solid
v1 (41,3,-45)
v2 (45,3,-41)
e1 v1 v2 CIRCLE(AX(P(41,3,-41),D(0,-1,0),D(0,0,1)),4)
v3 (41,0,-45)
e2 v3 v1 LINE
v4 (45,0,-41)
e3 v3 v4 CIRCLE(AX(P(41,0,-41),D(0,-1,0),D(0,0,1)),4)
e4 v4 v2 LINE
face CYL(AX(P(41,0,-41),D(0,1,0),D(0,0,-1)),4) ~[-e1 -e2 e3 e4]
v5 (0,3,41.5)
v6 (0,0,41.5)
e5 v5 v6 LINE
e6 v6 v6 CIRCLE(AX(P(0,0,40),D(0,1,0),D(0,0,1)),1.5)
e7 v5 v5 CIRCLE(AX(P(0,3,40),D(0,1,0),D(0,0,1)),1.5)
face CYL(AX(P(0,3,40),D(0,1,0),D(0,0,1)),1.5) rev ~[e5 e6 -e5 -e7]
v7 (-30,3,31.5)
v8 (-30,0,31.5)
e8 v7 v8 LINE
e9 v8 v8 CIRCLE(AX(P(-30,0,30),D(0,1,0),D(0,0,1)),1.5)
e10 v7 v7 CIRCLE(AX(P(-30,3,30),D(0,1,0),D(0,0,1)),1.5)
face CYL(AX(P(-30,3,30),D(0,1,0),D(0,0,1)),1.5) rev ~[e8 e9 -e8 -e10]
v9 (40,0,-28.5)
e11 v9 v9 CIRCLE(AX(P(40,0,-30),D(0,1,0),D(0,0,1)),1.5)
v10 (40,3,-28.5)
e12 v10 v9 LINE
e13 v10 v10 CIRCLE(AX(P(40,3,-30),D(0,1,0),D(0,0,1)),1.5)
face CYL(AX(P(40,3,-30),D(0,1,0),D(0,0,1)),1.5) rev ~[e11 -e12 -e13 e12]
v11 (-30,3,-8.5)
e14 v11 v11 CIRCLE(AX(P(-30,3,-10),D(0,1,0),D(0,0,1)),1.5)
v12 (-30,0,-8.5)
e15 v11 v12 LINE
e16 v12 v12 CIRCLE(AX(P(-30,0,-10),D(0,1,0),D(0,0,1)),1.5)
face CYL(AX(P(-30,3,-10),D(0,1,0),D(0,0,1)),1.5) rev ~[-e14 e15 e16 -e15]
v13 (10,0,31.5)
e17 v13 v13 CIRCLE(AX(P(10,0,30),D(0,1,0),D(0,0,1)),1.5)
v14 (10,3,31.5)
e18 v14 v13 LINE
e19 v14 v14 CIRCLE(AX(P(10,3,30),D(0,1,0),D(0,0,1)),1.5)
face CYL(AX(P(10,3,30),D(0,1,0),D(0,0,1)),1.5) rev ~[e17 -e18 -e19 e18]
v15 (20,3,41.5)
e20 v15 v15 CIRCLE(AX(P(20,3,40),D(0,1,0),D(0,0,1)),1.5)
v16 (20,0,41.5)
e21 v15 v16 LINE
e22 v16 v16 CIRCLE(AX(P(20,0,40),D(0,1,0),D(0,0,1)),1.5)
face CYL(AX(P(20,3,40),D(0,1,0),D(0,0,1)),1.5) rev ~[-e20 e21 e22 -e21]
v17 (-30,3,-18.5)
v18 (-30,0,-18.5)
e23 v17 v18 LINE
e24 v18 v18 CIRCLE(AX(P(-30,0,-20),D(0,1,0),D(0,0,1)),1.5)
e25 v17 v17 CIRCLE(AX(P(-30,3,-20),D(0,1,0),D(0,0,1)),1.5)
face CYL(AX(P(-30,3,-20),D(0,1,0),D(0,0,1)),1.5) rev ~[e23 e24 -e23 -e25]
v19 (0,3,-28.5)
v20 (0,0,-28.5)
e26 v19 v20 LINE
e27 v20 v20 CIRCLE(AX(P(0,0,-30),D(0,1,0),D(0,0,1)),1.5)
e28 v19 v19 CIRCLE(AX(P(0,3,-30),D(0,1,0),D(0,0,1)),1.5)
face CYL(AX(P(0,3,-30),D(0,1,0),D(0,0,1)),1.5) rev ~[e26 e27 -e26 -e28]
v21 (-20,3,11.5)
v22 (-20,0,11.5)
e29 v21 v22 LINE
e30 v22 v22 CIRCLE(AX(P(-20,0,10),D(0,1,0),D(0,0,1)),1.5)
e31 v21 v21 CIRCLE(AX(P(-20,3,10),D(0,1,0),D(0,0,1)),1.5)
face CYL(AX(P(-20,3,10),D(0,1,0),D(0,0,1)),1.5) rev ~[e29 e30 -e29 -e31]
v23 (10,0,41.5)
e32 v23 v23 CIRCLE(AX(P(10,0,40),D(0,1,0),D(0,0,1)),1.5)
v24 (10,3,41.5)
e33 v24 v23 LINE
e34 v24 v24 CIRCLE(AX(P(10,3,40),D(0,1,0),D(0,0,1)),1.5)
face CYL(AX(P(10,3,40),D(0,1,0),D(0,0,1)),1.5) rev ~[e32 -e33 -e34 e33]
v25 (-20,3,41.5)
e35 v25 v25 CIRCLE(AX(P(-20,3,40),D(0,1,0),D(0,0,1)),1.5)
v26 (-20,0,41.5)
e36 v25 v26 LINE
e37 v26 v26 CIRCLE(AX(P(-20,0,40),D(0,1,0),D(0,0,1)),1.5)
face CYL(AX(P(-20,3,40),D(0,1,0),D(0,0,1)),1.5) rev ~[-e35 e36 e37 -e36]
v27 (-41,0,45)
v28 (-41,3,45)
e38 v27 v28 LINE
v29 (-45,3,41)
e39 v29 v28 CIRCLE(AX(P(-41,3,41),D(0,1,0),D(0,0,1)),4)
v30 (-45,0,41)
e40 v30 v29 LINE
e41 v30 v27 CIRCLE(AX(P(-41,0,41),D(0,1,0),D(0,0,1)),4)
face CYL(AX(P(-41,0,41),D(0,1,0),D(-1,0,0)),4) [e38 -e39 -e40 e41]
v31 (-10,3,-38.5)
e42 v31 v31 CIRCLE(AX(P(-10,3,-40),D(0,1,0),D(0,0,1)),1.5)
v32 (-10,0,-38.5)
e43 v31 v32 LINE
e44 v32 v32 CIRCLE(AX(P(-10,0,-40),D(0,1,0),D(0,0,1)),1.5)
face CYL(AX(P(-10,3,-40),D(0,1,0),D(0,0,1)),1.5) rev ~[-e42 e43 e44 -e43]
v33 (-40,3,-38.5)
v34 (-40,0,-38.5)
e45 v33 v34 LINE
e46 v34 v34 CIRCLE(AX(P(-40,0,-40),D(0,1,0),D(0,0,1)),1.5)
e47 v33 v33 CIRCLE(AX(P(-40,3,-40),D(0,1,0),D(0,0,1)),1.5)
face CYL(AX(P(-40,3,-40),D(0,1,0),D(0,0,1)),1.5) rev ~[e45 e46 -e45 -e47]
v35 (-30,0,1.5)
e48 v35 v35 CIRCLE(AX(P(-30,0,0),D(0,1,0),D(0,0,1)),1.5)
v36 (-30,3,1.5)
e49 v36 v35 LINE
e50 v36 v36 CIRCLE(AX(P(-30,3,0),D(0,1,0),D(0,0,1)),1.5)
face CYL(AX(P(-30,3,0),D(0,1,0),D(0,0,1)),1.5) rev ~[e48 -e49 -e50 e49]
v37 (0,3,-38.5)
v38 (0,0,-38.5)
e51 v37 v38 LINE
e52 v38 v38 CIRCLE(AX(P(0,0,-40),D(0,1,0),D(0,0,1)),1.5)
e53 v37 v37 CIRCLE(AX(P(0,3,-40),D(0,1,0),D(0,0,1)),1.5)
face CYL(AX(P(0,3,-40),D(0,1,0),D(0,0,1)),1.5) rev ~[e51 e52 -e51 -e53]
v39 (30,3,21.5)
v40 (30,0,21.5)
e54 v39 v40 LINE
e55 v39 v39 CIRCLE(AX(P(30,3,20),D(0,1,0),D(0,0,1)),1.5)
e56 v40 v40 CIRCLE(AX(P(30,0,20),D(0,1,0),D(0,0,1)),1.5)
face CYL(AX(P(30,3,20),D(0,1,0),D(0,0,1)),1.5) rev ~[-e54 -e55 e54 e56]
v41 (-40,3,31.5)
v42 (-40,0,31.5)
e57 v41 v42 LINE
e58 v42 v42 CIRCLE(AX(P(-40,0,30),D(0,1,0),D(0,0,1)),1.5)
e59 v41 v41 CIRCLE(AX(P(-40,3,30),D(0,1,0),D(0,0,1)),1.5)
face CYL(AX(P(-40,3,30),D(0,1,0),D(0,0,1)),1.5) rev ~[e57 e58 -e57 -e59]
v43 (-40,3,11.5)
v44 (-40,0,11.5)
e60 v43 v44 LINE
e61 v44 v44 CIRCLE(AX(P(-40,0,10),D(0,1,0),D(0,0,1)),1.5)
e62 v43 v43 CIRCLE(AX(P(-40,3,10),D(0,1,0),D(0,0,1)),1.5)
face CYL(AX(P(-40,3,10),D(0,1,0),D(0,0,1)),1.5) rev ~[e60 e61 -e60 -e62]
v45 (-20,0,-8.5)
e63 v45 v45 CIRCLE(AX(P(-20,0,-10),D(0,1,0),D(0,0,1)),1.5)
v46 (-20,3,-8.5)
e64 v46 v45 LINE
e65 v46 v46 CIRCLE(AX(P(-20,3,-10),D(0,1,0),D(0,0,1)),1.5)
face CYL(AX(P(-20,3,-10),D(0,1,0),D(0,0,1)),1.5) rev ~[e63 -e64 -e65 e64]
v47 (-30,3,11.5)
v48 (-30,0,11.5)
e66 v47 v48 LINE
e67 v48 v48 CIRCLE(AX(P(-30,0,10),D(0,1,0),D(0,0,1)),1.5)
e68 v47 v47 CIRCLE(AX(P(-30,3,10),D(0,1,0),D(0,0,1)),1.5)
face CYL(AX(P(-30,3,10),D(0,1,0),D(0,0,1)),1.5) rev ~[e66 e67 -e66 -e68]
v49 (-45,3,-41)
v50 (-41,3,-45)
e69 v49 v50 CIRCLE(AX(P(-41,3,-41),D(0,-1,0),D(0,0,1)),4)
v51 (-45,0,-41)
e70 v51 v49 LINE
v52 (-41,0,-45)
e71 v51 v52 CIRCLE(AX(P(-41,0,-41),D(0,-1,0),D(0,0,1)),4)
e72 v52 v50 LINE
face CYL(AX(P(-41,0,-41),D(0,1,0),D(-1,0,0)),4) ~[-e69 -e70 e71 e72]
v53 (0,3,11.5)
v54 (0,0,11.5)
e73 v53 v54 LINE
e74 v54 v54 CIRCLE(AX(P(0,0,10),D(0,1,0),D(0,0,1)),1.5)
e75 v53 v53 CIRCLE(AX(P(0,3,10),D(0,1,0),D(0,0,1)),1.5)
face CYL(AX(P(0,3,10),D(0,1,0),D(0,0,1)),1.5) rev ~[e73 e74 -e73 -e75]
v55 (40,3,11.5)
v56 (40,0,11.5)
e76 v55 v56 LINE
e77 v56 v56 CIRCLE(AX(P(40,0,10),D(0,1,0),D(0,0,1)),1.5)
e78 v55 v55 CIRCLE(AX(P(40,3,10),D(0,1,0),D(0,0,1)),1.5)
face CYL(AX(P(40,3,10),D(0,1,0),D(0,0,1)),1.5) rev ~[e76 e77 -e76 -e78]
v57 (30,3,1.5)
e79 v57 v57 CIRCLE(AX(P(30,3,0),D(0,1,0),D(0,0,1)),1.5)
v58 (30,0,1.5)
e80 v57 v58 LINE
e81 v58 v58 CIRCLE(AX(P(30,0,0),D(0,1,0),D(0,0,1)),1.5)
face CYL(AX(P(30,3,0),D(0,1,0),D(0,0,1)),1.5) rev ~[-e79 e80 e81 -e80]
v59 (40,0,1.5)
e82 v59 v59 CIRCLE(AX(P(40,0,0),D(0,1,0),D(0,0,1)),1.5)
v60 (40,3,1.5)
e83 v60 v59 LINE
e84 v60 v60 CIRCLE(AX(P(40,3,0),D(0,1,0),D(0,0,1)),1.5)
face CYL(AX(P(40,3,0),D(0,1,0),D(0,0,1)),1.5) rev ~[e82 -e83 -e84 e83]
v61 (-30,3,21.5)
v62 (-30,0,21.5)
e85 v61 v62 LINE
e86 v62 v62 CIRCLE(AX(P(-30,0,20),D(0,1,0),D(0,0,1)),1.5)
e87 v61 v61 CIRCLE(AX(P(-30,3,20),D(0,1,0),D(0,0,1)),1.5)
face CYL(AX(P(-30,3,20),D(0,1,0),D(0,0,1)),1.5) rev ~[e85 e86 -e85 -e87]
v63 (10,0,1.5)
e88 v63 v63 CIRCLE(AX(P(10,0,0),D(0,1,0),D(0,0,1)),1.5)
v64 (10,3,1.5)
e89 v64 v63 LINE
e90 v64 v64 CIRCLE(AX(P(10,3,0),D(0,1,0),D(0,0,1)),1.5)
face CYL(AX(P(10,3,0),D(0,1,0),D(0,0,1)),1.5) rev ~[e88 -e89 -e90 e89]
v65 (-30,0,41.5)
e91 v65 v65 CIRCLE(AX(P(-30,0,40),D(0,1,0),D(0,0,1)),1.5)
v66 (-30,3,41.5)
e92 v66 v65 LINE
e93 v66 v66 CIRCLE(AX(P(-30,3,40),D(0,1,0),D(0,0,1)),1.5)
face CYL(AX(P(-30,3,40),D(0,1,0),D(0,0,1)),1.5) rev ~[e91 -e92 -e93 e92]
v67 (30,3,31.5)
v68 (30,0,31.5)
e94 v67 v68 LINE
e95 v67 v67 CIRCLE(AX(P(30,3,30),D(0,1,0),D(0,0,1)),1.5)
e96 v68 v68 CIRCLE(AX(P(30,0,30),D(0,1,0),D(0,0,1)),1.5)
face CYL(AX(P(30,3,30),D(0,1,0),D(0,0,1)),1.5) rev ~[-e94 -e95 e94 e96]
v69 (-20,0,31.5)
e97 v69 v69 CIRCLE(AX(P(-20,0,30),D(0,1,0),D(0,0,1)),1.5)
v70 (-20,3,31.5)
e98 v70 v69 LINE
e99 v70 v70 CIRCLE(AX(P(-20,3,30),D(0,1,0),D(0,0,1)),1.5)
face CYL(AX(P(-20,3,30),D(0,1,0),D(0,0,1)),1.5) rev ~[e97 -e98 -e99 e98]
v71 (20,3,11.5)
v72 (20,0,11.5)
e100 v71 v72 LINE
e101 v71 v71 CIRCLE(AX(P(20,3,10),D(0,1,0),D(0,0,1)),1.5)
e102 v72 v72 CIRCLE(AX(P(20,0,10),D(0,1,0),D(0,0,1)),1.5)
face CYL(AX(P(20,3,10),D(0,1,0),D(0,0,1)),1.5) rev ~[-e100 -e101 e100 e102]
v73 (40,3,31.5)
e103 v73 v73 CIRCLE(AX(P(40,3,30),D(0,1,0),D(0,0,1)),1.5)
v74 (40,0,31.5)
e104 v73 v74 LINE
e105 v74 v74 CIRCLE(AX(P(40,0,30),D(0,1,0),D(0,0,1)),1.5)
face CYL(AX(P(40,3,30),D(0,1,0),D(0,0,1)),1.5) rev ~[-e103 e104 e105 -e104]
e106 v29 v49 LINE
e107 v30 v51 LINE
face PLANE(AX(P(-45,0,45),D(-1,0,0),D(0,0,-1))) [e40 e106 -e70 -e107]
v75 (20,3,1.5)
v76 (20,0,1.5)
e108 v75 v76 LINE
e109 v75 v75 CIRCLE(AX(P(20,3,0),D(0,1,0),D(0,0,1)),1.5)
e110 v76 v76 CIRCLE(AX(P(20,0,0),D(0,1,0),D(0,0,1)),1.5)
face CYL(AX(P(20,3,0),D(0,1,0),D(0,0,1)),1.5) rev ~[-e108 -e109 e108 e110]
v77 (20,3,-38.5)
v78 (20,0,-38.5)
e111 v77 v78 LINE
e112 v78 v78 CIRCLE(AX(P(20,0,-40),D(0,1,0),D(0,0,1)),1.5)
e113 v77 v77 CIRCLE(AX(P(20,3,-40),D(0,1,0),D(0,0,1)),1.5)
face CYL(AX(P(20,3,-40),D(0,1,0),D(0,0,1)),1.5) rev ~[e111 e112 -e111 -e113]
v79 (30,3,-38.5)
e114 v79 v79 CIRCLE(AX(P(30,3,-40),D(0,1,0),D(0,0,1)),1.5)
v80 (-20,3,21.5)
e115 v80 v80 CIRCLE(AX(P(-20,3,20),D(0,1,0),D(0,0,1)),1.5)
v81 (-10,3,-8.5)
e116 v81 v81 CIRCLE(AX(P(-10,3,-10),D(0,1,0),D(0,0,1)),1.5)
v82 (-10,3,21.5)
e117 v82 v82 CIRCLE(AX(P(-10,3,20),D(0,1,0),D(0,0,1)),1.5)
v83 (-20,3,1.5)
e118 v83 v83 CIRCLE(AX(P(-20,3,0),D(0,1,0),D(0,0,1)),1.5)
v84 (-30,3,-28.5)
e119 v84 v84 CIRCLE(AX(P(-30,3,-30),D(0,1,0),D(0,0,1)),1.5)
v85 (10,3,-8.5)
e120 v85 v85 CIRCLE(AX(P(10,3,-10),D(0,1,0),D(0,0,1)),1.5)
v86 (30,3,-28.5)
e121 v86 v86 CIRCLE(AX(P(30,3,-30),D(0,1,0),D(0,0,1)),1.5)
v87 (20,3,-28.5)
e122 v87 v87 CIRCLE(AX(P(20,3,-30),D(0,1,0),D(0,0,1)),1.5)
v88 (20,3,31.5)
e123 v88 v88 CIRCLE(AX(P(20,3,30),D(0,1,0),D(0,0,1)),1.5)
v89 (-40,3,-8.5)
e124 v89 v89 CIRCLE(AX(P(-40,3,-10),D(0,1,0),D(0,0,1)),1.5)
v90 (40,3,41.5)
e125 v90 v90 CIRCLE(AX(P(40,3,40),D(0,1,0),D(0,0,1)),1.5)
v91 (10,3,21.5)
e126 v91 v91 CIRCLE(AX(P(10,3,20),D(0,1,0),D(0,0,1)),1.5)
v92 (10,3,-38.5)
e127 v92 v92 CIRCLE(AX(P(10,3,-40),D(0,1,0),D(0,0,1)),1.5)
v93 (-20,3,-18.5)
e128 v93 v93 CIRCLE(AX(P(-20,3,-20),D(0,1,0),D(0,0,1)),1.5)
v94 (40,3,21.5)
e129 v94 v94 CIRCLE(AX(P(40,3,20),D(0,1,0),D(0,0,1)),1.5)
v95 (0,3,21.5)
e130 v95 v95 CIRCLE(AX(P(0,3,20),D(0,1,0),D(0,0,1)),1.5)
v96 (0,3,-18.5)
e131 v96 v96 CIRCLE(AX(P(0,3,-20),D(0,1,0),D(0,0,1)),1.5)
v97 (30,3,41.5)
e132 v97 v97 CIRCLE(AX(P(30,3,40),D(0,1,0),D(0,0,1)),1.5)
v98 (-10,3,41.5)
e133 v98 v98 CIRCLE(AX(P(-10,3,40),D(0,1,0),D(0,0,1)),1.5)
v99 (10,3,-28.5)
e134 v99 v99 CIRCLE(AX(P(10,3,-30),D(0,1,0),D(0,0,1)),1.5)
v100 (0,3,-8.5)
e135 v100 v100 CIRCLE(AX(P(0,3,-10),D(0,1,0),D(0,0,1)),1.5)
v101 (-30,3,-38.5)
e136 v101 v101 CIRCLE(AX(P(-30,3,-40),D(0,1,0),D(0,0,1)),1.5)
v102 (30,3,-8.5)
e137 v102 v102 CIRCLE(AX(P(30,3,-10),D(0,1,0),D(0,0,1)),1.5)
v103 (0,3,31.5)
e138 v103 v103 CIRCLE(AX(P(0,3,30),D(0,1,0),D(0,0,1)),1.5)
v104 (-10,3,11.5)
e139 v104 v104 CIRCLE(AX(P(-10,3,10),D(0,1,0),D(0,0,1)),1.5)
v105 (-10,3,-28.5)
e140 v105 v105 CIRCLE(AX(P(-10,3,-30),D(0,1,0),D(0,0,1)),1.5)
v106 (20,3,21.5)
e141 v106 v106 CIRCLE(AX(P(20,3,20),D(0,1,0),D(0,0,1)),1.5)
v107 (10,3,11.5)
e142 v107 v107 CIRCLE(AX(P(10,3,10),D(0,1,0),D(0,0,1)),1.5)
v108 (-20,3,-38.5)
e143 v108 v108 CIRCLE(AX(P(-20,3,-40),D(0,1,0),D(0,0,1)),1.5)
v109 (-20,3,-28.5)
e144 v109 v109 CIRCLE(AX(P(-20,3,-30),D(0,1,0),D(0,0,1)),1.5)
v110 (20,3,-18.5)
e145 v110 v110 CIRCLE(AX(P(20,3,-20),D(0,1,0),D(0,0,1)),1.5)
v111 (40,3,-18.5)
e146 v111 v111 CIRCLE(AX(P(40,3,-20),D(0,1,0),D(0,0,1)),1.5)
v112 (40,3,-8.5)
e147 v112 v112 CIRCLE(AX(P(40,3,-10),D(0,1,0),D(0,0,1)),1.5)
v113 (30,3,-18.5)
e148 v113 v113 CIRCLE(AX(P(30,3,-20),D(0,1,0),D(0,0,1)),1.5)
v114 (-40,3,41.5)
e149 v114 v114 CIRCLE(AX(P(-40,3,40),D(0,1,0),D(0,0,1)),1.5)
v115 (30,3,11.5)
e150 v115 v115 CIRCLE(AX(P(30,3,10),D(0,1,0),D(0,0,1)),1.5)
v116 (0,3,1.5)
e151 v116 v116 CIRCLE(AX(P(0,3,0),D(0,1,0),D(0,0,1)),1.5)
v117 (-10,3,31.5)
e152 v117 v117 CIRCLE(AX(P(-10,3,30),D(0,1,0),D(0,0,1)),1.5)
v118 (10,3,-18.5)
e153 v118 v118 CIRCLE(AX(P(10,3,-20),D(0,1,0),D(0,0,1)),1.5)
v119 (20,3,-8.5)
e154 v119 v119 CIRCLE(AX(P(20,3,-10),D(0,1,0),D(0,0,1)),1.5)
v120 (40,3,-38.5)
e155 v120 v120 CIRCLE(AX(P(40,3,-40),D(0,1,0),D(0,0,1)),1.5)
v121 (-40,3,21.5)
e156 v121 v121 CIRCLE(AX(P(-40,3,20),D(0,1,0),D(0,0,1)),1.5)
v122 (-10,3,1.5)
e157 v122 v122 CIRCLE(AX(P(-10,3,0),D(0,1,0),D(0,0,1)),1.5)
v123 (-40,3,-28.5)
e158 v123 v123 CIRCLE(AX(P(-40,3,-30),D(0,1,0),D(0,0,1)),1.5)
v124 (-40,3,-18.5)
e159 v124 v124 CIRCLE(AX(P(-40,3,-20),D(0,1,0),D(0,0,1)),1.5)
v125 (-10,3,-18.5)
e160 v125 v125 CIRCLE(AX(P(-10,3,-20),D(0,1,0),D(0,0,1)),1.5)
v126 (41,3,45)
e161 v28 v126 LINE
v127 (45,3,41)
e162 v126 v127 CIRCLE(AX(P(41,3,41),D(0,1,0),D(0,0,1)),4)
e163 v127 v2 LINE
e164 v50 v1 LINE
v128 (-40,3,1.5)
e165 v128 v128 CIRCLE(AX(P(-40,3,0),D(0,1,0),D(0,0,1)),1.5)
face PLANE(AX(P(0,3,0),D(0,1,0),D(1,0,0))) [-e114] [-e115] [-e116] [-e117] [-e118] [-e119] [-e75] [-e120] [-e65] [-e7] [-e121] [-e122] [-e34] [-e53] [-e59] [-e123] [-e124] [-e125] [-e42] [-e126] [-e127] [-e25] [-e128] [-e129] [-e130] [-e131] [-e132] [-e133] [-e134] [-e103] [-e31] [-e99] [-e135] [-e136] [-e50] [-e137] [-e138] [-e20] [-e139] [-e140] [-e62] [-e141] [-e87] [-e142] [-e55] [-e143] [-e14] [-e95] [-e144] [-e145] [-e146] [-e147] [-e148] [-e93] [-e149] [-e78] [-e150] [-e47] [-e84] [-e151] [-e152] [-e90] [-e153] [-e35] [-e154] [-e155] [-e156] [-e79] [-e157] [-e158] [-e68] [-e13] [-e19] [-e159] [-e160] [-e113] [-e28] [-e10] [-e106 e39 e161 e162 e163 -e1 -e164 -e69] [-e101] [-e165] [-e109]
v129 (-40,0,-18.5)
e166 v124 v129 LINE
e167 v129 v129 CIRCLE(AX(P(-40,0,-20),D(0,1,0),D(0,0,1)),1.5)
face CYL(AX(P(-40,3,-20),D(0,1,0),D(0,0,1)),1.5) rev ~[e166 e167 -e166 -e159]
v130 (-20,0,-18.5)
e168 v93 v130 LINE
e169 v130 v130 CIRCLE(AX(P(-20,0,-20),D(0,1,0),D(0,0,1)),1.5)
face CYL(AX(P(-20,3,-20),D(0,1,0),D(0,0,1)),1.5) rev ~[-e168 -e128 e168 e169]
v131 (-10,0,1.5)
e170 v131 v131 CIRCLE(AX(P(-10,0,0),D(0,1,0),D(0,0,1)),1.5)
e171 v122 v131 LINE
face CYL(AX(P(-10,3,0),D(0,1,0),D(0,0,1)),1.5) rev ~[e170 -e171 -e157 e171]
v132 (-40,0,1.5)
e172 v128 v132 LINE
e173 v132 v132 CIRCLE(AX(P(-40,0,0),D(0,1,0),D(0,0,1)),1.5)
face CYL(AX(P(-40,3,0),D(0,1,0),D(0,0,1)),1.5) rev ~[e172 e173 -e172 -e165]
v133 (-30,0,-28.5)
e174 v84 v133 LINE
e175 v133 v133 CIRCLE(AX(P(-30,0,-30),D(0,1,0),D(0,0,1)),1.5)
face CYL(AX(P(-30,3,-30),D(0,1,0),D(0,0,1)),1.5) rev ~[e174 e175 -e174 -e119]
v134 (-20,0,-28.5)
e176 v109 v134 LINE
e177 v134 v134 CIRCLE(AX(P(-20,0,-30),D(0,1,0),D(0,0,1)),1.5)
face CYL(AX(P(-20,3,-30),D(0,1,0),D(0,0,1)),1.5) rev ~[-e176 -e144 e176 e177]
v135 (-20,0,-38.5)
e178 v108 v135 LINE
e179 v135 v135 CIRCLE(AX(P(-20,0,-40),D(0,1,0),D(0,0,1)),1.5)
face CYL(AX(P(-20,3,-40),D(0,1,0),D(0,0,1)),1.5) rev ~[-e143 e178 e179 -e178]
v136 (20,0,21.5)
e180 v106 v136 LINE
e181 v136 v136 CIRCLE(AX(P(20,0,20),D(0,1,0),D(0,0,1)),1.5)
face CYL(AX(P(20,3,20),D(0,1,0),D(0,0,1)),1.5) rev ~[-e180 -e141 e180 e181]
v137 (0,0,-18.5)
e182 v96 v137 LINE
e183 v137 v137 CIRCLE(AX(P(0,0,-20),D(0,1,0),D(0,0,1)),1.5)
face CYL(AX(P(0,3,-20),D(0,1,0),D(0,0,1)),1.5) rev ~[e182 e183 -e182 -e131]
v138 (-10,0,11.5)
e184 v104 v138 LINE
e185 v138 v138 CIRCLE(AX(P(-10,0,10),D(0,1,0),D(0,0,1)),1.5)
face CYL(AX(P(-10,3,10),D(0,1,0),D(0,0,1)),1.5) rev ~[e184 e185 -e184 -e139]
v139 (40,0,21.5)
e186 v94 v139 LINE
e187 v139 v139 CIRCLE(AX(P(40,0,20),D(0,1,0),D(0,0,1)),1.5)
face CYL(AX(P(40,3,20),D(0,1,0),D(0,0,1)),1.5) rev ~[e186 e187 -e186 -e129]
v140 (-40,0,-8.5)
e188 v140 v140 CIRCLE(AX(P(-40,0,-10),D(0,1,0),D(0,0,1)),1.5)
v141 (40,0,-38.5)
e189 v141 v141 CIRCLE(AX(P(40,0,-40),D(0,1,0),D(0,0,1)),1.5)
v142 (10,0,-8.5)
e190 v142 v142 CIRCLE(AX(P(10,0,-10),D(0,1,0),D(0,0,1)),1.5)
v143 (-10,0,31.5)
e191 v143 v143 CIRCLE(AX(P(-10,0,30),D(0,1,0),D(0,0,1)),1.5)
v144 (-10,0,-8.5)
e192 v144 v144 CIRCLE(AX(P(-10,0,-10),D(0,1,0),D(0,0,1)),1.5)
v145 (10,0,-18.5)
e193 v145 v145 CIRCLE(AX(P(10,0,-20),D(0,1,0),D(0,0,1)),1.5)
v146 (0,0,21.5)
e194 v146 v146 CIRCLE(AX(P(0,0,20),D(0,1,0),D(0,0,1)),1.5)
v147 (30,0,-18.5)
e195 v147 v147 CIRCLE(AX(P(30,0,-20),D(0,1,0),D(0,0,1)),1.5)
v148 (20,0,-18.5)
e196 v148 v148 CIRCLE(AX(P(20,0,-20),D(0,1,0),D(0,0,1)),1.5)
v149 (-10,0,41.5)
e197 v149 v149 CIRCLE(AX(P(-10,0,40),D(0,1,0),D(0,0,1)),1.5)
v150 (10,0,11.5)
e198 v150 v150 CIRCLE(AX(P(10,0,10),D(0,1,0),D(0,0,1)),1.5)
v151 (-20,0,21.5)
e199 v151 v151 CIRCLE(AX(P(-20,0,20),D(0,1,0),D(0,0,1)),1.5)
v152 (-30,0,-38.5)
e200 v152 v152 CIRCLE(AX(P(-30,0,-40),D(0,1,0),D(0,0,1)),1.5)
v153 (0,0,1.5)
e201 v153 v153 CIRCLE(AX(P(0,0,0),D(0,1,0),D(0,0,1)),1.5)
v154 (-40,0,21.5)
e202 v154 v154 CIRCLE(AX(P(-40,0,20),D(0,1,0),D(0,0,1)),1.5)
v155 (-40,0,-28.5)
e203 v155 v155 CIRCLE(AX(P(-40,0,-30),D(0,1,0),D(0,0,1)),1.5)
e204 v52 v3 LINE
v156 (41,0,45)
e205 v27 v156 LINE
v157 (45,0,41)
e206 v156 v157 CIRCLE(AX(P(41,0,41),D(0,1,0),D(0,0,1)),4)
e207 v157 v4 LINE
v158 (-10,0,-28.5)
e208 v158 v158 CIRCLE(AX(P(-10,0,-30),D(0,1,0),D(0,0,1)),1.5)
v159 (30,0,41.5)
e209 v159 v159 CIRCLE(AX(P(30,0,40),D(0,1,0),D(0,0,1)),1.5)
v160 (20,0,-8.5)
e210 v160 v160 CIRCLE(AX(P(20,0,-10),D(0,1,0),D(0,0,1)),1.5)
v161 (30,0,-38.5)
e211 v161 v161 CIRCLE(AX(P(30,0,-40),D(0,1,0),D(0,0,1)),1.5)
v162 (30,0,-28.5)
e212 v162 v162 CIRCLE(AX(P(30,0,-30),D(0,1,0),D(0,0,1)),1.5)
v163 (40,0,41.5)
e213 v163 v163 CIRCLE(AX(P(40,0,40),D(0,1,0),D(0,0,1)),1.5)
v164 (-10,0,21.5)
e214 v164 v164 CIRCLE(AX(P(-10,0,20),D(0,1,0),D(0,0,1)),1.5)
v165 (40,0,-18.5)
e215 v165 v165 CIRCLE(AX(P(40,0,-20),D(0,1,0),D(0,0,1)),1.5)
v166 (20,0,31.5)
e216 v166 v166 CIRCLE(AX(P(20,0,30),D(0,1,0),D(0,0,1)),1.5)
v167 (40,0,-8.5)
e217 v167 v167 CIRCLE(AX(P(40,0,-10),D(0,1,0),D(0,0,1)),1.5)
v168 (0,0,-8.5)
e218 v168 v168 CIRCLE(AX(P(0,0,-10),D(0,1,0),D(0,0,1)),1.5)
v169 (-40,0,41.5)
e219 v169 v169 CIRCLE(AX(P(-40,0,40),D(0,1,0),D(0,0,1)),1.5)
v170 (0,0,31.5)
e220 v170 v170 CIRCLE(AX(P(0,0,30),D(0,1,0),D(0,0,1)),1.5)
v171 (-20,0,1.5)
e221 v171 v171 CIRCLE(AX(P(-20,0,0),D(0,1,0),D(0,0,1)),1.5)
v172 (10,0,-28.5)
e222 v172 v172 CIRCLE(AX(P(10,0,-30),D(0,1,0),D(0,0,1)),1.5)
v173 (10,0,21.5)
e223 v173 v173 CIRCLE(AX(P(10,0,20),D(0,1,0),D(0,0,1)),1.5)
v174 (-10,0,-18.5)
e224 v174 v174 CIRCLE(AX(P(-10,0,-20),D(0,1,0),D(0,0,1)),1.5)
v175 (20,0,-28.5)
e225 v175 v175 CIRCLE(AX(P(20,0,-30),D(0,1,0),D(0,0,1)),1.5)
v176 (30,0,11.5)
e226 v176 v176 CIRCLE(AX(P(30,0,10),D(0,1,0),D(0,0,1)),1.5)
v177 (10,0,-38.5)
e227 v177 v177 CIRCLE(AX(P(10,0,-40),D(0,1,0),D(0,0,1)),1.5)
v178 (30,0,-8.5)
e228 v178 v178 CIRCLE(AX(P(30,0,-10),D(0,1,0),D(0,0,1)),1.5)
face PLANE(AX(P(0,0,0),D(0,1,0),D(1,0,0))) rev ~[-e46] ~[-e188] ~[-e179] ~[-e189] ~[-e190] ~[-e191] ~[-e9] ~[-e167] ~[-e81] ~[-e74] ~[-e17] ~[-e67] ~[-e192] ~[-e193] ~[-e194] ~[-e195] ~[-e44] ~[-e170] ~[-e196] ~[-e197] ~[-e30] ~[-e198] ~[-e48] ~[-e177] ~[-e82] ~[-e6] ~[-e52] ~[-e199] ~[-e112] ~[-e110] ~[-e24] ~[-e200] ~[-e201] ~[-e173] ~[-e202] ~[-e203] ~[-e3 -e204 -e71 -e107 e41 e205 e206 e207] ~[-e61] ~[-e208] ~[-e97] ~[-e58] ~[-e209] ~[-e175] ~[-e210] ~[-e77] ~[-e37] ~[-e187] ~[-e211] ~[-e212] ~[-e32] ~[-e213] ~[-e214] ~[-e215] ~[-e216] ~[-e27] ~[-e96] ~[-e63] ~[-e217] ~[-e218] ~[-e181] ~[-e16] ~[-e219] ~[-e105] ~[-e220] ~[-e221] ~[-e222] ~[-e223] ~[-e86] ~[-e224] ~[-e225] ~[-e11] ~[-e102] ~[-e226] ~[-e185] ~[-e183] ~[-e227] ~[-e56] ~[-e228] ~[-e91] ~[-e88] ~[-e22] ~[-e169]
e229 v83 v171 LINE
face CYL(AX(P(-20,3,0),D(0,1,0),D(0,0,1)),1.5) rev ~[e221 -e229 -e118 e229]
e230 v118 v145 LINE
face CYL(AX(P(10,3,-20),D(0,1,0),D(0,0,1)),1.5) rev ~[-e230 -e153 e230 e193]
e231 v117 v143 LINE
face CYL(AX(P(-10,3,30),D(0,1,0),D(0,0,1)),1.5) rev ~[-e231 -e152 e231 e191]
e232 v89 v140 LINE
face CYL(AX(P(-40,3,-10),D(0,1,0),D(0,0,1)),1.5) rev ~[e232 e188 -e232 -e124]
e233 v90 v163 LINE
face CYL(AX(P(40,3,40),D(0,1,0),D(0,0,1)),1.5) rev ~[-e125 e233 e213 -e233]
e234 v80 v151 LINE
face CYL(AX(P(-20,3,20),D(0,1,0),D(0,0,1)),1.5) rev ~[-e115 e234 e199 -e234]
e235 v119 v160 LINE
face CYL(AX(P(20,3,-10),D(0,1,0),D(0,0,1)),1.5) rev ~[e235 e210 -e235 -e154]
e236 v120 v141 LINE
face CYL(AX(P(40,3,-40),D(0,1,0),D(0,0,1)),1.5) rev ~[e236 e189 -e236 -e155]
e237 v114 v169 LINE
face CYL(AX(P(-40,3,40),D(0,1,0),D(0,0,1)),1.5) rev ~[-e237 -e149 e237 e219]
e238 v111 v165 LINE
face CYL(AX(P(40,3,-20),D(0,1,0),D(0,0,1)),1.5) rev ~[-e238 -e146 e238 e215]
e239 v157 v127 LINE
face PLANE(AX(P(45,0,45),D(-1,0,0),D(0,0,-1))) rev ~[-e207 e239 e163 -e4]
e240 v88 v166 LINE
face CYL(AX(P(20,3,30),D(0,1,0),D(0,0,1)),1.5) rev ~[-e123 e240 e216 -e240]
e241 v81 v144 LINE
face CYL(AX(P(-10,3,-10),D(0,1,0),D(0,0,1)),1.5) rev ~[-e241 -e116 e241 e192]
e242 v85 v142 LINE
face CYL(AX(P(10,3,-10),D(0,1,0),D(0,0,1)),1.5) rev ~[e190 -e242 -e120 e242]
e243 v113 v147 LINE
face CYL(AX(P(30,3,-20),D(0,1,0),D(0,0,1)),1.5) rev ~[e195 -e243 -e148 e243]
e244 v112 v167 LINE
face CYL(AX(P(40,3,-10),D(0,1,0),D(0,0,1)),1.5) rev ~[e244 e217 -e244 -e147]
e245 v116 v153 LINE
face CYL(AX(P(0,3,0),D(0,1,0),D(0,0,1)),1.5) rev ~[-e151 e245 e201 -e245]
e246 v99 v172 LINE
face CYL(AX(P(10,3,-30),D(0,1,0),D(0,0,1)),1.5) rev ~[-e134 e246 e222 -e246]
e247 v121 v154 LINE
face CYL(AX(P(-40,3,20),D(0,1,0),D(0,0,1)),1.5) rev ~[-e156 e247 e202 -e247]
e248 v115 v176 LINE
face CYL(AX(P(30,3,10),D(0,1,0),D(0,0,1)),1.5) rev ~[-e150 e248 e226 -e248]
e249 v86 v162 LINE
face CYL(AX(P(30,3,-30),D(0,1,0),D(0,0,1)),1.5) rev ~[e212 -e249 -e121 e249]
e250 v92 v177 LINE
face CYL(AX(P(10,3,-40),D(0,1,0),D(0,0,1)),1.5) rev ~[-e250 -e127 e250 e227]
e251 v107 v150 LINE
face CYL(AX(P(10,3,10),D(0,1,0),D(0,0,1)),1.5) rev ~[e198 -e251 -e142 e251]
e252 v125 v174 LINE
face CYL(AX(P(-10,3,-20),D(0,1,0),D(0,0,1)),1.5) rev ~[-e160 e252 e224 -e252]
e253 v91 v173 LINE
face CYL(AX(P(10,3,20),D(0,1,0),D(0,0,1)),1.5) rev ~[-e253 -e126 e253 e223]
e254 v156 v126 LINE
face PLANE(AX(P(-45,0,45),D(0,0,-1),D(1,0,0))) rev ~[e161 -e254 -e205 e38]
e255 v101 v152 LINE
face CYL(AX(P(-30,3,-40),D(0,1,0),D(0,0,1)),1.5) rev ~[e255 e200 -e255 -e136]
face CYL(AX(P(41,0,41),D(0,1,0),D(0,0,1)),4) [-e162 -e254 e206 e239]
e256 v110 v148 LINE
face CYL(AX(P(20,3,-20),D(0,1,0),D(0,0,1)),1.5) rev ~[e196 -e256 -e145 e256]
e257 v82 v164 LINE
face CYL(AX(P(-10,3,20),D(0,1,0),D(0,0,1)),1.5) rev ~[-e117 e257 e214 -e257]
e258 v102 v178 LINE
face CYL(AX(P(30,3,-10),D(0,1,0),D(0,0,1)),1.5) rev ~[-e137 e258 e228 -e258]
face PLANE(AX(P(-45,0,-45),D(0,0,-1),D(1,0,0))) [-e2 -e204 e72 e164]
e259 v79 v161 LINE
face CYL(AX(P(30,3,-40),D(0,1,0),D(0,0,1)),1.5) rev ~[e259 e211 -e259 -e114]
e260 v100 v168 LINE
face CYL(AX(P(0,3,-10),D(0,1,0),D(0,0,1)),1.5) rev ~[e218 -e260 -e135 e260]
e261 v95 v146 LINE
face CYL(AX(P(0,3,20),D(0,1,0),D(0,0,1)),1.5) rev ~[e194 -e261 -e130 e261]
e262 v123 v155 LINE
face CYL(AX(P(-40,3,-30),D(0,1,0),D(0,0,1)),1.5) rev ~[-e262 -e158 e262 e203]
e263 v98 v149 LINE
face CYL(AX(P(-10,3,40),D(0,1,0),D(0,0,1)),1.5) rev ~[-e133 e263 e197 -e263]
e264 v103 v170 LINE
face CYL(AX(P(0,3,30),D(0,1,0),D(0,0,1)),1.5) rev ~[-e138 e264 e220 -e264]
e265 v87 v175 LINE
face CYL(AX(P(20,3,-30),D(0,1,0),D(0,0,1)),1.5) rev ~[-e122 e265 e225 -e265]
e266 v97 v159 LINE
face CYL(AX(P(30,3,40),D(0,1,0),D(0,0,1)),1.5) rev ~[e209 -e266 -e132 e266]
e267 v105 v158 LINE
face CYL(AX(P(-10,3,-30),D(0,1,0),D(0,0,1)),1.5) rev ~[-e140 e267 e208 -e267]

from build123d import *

# Parameters (mm, degrees)
SKETCH_1_W          = 90
SKETCH_1_H          = 90
EXTRUDE_1_DEPTH     = 3
SKETCH_2_R          = 1.5
CUT_EXTRUDE_1_DEPTH = 64.710281745
SKETCH_3_R          = 1.5
CUT_EXTRUDE_2_DEPTH = 64.710281745
SKETCH_5_R          = 1.5
CUT_EXTRUDE_3_DEPTH = 64.710281745
FILLET_1_R          = 4


with BuildPart() as part:
    # 草图1 → 凸台-拉伸1 (new body)
    with BuildSketch(Plane(origin=(0, 0, 0), x_dir=(1, 0, 0), z_dir=(0, 1, 0))):
        Rectangle(SKETCH_1_W, SKETCH_1_H)
    extrude(amount=EXTRUDE_1_DEPTH)

    # 草图2 → 切除-拉伸1 (cut, through all)
    with BuildSketch(Plane(origin=(0, 3, 0), x_dir=(1, 0, 0), z_dir=(0, 1, 0))):
        with Locations(Location((-40, 40, 0), (0, 0, 270))):
            Circle(SKETCH_2_R)
        with Locations(Location((40, 40, 0), (0, 0, 270))):
            Circle(SKETCH_2_R)
        with Locations(Location((40, -40, 0), (0, 0, 270))):
            Circle(SKETCH_2_R)
        with Locations(Location((-40, -40, 0), (0, 0, 270))):
            Circle(SKETCH_2_R)
    extrude(amount=-CUT_EXTRUDE_1_DEPTH, mode=Mode.SUBTRACT)

    # 草图3 → 切除-拉伸2 (cut, through all)
    with BuildSketch(Plane(origin=(0, 3, 0), x_dir=(1, 0, 0), z_dir=(0, 1, 0))):
        with Locations(Location((0, 0, 0), (0, 0, 270))):
            Circle(SKETCH_3_R)
        with Locations(Location((10, 0, 0), (0, 0, 270))):
            Circle(SKETCH_3_R)
        with Locations(Location((20, 0, 0), (0, 0, 270))):
            Circle(SKETCH_3_R)
        with Locations(Location((30, 0, 0), (0, 0, 270))):
            Circle(SKETCH_3_R)
        with Locations(Location((40, 0, 0), (0, 0, 270))):
            Circle(SKETCH_3_R)
        with Locations(Location((10, 10, 0), (0, 0, 270))):
            Circle(SKETCH_3_R)
        with Locations(Location((20, 10, 0), (0, 0, 270))):
            Circle(SKETCH_3_R)
        with Locations(Location((30, 10, 0), (0, 0, 270))):
            Circle(SKETCH_3_R)
        with Locations(Location((40, 10, 0), (0, 0, 270))):
            Circle(SKETCH_3_R)
        with Locations(Location((10, 20, 0), (0, 0, 270))):
            Circle(SKETCH_3_R)
        with Locations(Location((20, 20, 0), (0, 0, 270))):
            Circle(SKETCH_3_R)
        with Locations(Location((30, 20, 0), (0, 0, 270))):
            Circle(SKETCH_3_R)
        with Locations(Location((40, 20, 0), (0, 0, 270))):
            Circle(SKETCH_3_R)
        with Locations(Location((10, 30, 0), (0, 0, 270))):
            Circle(SKETCH_3_R)
        with Locations(Location((20, 30, 0), (0, 0, 270))):
            Circle(SKETCH_3_R)
        with Locations(Location((30, 30, 0), (0, 0, 270))):
            Circle(SKETCH_3_R)
        with Locations(Location((40, 30, 0), (0, 0, 270))):
            Circle(SKETCH_3_R)
        with Locations(Location((10, 40, 0), (0, 0, 270))):
            Circle(SKETCH_3_R)
        with Locations(Location((20, 40, 0), (0, 0, 270))):
            Circle(SKETCH_3_R)
        with Locations(Location((30, 40, 0), (0, 0, 270))):
            Circle(SKETCH_3_R)
        with Locations(Location((40, 40, 0), (0, 0, 270))):
            Circle(SKETCH_3_R)
        with Locations(Location((0, 10, 0), (0, 0, 270))):
            Circle(SKETCH_3_R)
        with Locations(Location((0, 20, 0), (0, 0, 270))):
            Circle(SKETCH_3_R)
        with Locations(Location((0, 30, 0), (0, 0, 270))):
            Circle(SKETCH_3_R)
        with Locations(Location((0, 40, 0), (0, 0, 270))):
            Circle(SKETCH_3_R)
        with Locations(Location((-10, 0, 0), (0, 0, 270))):
            Circle(SKETCH_3_R)
        with Locations(Location((-20, 0, 0), (0, 0, 270))):
            Circle(SKETCH_3_R)
        with Locations(Location((-30, 0, 0), (0, 0, 270))):
            Circle(SKETCH_3_R)
        with Locations(Location((-40, 0, 0), (0, 0, 270))):
            Circle(SKETCH_3_R)
        with Locations(Location((-10, -10, 0), (0, 0, 270))):
            Circle(SKETCH_3_R)
        with Locations(Location((-20, -10, 0), (0, 0, 270))):
            Circle(SKETCH_3_R)
        with Locations(Location((-30, -10, 0), (0, 0, 270))):
            Circle(SKETCH_3_R)
        with Locations(Location((-40, -10, 0), (0, 0, 270))):
            Circle(SKETCH_3_R)
        with Locations(Location((-10, -20, 0), (0, 0, 270))):
            Circle(SKETCH_3_R)
        with Locations(Location((-20, -20, 0), (0, 0, 270))):
            Circle(SKETCH_3_R)
        with Locations(Location((-30, -20, 0), (0, 0, 270))):
            Circle(SKETCH_3_R)
        with Locations(Location((-40, -20, 0), (0, 0, 270))):
            Circle(SKETCH_3_R)
        with Locations(Location((-10, -30, 0), (0, 0, 270))):
            Circle(SKETCH_3_R)
        with Locations(Location((-20, -30, 0), (0, 0, 270))):
            Circle(SKETCH_3_R)
        with Locations(Location((-30, -30, 0), (0, 0, 270))):
            Circle(SKETCH_3_R)
        with Locations(Location((-40, -30, 0), (0, 0, 270))):
            Circle(SKETCH_3_R)
        with Locations(Location((-10, -40, 0), (0, 0, 270))):
            Circle(SKETCH_3_R)
        with Locations(Location((-20, -40, 0), (0, 0, 270))):
            Circle(SKETCH_3_R)
        with Locations(Location((-30, -40, 0), (0, 0, 270))):
            Circle(SKETCH_3_R)
        with Locations(Location((-40, -40, 0), (0, 0, 270))):
            Circle(SKETCH_3_R)
        with Locations(Location((0, -10, 0), (0, 0, 270))):
            Circle(SKETCH_3_R)
        with Locations(Location((0, -20, 0), (0, 0, 270))):
            Circle(SKETCH_3_R)
        with Locations(Location((0, -30, 0), (0, 0, 270))):
            Circle(SKETCH_3_R)
        with Locations(Location((0, -40, 0), (0, 0, 270))):
            Circle(SKETCH_3_R)
    extrude(amount=-CUT_EXTRUDE_2_DEPTH, mode=Mode.SUBTRACT)

    # 草图5 → 切除-拉伸3 (cut, through all)
    with BuildSketch(Plane(origin=(0, 3, 0), x_dir=(1, 0, 0), z_dir=(0, 1, 0))):
        with Locations(Location((0, 0, 0), (0, 0, 270))):
            Circle(SKETCH_5_R)
        with Locations(Location((-10, 0, 0), (0, 0, 270))):
            Circle(SKETCH_5_R)
        with Locations(Location((-20, 0, 0), (0, 0, 270))):
            Circle(SKETCH_5_R)
        with Locations(Location((-30, 0, 0), (0, 0, 270))):
            Circle(SKETCH_5_R)
        with Locations(Location((-40, 0, 0), (0, 0, 270))):
            Circle(SKETCH_5_R)
        with Locations(Location((-10, 10, 0), (0, 0, 270))):
            Circle(SKETCH_5_R)
        with Locations(Location((-20, 10, 0), (0, 0, 270))):
            Circle(SKETCH_5_R)
        with Locations(Location((-30, 10, 0), (0, 0, 270))):
            Circle(SKETCH_5_R)
        with Locations(Location((-40, 10, 0), (0, 0, 270))):
            Circle(SKETCH_5_R)
        with Locations(Location((-10, 20, 0), (0, 0, 270))):
            Circle(SKETCH_5_R)
        with Locations(Location((-20, 20, 0), (0, 0, 270))):
            Circle(SKETCH_5_R)
        with Locations(Location((-30, 20, 0), (0, 0, 270))):
            Circle(SKETCH_5_R)
        with Locations(Location((-40, 20, 0), (0, 0, 270))):
            Circle(SKETCH_5_R)
        with Locations(Location((-10, 30, 0), (0, 0, 270))):
            Circle(SKETCH_5_R)
        with Locations(Location((-20, 30, 0), (0, 0, 270))):
            Circle(SKETCH_5_R)
        with Locations(Location((-30, 30, 0), (0, 0, 270))):
            Circle(SKETCH_5_R)
        with Locations(Location((-40, 30, 0), (0, 0, 270))):
            Circle(SKETCH_5_R)
        with Locations(Location((-10, 40, 0), (0, 0, 270))):
            Circle(SKETCH_5_R)
        with Locations(Location((-20, 40, 0), (0, 0, 270))):
            Circle(SKETCH_5_R)
        with Locations(Location((-30, 40, 0), (0, 0, 270))):
            Circle(SKETCH_5_R)
        with Locations(Location((-40, 40, 0), (0, 0, 270))):
            Circle(SKETCH_5_R)
        with Locations(Location((0, 10, 0), (0, 0, 270))):
            Circle(SKETCH_5_R)
        with Locations(Location((0, 20, 0), (0, 0, 270))):
            Circle(SKETCH_5_R)
        with Locations(Location((0, 30, 0), (0, 0, 270))):
            Circle(SKETCH_5_R)
        with Locations(Location((0, 40, 0), (0, 0, 270))):
            Circle(SKETCH_5_R)
        with Locations(Location((10, 0, 0), (0, 0, 270))):
            Circle(SKETCH_5_R)
        with Locations(Location((20, 0, 0), (0, 0, 270))):
            Circle(SKETCH_5_R)
        with Locations(Location((30, 0, 0), (0, 0, 270))):
            Circle(SKETCH_5_R)
        with Locations(Location((40, 0, 0), (0, 0, 270))):
            Circle(SKETCH_5_R)
        with Locations(Location((10, -10, 0), (0, 0, 270))):
            Circle(SKETCH_5_R)
        with Locations(Location((20, -10, 0), (0, 0, 270))):
            Circle(SKETCH_5_R)
        with Locations(Location((30, -10, 0), (0, 0, 270))):
            Circle(SKETCH_5_R)
        with Locations(Location((40, -10, 0), (0, 0, 270))):
            Circle(SKETCH_5_R)
        with Locations(Location((10, -20, 0), (0, 0, 270))):
            Circle(SKETCH_5_R)
        with Locations(Location((20, -20, 0), (0, 0, 270))):
            Circle(SKETCH_5_R)
        with Locations(Location((30, -20, 0), (0, 0, 270))):
            Circle(SKETCH_5_R)
        with Locations(Location((40, -20, 0), (0, 0, 270))):
            Circle(SKETCH_5_R)
        with Locations(Location((10, -30, 0), (0, 0, 270))):
            Circle(SKETCH_5_R)
        with Locations(Location((20, -30, 0), (0, 0, 270))):
            Circle(SKETCH_5_R)
        with Locations(Location((30, -30, 0), (0, 0, 270))):
            Circle(SKETCH_5_R)
        with Locations(Location((40, -30, 0), (0, 0, 270))):
            Circle(SKETCH_5_R)
        with Locations(Location((10, -40, 0), (0, 0, 270))):
            Circle(SKETCH_5_R)
        with Locations(Location((20, -40, 0), (0, 0, 270))):
            Circle(SKETCH_5_R)
        with Locations(Location((30, -40, 0), (0, 0, 270))):
            Circle(SKETCH_5_R)
        with Locations(Location((40, -40, 0), (0, 0, 270))):
            Circle(SKETCH_5_R)
        with Locations(Location((0, -10, 0), (0, 0, 270))):
            Circle(SKETCH_5_R)
        with Locations(Location((0, -20, 0), (0, 0, 270))):
            Circle(SKETCH_5_R)
        with Locations(Location((0, -30, 0), (0, 0, 270))):
            Circle(SKETCH_5_R)
        with Locations(Location((0, -40, 0), (0, 0, 270))):
            Circle(SKETCH_5_R)
    extrude(amount=-CUT_EXTRUDE_3_DEPTH, mode=Mode.SUBTRACT)

    # 圆角1
    fillet_1_edges = [part.edges().sort_by_distance(p)[0] for p in [
        (45, 1.5, 45),
        (-45, 1.5, 45),
        (-45, 1.5, -45),
        (45, 1.5, -45),
    ]]
    fillet(fillet_1_edges, radius=FILLET_1_R)


solid = part.part
